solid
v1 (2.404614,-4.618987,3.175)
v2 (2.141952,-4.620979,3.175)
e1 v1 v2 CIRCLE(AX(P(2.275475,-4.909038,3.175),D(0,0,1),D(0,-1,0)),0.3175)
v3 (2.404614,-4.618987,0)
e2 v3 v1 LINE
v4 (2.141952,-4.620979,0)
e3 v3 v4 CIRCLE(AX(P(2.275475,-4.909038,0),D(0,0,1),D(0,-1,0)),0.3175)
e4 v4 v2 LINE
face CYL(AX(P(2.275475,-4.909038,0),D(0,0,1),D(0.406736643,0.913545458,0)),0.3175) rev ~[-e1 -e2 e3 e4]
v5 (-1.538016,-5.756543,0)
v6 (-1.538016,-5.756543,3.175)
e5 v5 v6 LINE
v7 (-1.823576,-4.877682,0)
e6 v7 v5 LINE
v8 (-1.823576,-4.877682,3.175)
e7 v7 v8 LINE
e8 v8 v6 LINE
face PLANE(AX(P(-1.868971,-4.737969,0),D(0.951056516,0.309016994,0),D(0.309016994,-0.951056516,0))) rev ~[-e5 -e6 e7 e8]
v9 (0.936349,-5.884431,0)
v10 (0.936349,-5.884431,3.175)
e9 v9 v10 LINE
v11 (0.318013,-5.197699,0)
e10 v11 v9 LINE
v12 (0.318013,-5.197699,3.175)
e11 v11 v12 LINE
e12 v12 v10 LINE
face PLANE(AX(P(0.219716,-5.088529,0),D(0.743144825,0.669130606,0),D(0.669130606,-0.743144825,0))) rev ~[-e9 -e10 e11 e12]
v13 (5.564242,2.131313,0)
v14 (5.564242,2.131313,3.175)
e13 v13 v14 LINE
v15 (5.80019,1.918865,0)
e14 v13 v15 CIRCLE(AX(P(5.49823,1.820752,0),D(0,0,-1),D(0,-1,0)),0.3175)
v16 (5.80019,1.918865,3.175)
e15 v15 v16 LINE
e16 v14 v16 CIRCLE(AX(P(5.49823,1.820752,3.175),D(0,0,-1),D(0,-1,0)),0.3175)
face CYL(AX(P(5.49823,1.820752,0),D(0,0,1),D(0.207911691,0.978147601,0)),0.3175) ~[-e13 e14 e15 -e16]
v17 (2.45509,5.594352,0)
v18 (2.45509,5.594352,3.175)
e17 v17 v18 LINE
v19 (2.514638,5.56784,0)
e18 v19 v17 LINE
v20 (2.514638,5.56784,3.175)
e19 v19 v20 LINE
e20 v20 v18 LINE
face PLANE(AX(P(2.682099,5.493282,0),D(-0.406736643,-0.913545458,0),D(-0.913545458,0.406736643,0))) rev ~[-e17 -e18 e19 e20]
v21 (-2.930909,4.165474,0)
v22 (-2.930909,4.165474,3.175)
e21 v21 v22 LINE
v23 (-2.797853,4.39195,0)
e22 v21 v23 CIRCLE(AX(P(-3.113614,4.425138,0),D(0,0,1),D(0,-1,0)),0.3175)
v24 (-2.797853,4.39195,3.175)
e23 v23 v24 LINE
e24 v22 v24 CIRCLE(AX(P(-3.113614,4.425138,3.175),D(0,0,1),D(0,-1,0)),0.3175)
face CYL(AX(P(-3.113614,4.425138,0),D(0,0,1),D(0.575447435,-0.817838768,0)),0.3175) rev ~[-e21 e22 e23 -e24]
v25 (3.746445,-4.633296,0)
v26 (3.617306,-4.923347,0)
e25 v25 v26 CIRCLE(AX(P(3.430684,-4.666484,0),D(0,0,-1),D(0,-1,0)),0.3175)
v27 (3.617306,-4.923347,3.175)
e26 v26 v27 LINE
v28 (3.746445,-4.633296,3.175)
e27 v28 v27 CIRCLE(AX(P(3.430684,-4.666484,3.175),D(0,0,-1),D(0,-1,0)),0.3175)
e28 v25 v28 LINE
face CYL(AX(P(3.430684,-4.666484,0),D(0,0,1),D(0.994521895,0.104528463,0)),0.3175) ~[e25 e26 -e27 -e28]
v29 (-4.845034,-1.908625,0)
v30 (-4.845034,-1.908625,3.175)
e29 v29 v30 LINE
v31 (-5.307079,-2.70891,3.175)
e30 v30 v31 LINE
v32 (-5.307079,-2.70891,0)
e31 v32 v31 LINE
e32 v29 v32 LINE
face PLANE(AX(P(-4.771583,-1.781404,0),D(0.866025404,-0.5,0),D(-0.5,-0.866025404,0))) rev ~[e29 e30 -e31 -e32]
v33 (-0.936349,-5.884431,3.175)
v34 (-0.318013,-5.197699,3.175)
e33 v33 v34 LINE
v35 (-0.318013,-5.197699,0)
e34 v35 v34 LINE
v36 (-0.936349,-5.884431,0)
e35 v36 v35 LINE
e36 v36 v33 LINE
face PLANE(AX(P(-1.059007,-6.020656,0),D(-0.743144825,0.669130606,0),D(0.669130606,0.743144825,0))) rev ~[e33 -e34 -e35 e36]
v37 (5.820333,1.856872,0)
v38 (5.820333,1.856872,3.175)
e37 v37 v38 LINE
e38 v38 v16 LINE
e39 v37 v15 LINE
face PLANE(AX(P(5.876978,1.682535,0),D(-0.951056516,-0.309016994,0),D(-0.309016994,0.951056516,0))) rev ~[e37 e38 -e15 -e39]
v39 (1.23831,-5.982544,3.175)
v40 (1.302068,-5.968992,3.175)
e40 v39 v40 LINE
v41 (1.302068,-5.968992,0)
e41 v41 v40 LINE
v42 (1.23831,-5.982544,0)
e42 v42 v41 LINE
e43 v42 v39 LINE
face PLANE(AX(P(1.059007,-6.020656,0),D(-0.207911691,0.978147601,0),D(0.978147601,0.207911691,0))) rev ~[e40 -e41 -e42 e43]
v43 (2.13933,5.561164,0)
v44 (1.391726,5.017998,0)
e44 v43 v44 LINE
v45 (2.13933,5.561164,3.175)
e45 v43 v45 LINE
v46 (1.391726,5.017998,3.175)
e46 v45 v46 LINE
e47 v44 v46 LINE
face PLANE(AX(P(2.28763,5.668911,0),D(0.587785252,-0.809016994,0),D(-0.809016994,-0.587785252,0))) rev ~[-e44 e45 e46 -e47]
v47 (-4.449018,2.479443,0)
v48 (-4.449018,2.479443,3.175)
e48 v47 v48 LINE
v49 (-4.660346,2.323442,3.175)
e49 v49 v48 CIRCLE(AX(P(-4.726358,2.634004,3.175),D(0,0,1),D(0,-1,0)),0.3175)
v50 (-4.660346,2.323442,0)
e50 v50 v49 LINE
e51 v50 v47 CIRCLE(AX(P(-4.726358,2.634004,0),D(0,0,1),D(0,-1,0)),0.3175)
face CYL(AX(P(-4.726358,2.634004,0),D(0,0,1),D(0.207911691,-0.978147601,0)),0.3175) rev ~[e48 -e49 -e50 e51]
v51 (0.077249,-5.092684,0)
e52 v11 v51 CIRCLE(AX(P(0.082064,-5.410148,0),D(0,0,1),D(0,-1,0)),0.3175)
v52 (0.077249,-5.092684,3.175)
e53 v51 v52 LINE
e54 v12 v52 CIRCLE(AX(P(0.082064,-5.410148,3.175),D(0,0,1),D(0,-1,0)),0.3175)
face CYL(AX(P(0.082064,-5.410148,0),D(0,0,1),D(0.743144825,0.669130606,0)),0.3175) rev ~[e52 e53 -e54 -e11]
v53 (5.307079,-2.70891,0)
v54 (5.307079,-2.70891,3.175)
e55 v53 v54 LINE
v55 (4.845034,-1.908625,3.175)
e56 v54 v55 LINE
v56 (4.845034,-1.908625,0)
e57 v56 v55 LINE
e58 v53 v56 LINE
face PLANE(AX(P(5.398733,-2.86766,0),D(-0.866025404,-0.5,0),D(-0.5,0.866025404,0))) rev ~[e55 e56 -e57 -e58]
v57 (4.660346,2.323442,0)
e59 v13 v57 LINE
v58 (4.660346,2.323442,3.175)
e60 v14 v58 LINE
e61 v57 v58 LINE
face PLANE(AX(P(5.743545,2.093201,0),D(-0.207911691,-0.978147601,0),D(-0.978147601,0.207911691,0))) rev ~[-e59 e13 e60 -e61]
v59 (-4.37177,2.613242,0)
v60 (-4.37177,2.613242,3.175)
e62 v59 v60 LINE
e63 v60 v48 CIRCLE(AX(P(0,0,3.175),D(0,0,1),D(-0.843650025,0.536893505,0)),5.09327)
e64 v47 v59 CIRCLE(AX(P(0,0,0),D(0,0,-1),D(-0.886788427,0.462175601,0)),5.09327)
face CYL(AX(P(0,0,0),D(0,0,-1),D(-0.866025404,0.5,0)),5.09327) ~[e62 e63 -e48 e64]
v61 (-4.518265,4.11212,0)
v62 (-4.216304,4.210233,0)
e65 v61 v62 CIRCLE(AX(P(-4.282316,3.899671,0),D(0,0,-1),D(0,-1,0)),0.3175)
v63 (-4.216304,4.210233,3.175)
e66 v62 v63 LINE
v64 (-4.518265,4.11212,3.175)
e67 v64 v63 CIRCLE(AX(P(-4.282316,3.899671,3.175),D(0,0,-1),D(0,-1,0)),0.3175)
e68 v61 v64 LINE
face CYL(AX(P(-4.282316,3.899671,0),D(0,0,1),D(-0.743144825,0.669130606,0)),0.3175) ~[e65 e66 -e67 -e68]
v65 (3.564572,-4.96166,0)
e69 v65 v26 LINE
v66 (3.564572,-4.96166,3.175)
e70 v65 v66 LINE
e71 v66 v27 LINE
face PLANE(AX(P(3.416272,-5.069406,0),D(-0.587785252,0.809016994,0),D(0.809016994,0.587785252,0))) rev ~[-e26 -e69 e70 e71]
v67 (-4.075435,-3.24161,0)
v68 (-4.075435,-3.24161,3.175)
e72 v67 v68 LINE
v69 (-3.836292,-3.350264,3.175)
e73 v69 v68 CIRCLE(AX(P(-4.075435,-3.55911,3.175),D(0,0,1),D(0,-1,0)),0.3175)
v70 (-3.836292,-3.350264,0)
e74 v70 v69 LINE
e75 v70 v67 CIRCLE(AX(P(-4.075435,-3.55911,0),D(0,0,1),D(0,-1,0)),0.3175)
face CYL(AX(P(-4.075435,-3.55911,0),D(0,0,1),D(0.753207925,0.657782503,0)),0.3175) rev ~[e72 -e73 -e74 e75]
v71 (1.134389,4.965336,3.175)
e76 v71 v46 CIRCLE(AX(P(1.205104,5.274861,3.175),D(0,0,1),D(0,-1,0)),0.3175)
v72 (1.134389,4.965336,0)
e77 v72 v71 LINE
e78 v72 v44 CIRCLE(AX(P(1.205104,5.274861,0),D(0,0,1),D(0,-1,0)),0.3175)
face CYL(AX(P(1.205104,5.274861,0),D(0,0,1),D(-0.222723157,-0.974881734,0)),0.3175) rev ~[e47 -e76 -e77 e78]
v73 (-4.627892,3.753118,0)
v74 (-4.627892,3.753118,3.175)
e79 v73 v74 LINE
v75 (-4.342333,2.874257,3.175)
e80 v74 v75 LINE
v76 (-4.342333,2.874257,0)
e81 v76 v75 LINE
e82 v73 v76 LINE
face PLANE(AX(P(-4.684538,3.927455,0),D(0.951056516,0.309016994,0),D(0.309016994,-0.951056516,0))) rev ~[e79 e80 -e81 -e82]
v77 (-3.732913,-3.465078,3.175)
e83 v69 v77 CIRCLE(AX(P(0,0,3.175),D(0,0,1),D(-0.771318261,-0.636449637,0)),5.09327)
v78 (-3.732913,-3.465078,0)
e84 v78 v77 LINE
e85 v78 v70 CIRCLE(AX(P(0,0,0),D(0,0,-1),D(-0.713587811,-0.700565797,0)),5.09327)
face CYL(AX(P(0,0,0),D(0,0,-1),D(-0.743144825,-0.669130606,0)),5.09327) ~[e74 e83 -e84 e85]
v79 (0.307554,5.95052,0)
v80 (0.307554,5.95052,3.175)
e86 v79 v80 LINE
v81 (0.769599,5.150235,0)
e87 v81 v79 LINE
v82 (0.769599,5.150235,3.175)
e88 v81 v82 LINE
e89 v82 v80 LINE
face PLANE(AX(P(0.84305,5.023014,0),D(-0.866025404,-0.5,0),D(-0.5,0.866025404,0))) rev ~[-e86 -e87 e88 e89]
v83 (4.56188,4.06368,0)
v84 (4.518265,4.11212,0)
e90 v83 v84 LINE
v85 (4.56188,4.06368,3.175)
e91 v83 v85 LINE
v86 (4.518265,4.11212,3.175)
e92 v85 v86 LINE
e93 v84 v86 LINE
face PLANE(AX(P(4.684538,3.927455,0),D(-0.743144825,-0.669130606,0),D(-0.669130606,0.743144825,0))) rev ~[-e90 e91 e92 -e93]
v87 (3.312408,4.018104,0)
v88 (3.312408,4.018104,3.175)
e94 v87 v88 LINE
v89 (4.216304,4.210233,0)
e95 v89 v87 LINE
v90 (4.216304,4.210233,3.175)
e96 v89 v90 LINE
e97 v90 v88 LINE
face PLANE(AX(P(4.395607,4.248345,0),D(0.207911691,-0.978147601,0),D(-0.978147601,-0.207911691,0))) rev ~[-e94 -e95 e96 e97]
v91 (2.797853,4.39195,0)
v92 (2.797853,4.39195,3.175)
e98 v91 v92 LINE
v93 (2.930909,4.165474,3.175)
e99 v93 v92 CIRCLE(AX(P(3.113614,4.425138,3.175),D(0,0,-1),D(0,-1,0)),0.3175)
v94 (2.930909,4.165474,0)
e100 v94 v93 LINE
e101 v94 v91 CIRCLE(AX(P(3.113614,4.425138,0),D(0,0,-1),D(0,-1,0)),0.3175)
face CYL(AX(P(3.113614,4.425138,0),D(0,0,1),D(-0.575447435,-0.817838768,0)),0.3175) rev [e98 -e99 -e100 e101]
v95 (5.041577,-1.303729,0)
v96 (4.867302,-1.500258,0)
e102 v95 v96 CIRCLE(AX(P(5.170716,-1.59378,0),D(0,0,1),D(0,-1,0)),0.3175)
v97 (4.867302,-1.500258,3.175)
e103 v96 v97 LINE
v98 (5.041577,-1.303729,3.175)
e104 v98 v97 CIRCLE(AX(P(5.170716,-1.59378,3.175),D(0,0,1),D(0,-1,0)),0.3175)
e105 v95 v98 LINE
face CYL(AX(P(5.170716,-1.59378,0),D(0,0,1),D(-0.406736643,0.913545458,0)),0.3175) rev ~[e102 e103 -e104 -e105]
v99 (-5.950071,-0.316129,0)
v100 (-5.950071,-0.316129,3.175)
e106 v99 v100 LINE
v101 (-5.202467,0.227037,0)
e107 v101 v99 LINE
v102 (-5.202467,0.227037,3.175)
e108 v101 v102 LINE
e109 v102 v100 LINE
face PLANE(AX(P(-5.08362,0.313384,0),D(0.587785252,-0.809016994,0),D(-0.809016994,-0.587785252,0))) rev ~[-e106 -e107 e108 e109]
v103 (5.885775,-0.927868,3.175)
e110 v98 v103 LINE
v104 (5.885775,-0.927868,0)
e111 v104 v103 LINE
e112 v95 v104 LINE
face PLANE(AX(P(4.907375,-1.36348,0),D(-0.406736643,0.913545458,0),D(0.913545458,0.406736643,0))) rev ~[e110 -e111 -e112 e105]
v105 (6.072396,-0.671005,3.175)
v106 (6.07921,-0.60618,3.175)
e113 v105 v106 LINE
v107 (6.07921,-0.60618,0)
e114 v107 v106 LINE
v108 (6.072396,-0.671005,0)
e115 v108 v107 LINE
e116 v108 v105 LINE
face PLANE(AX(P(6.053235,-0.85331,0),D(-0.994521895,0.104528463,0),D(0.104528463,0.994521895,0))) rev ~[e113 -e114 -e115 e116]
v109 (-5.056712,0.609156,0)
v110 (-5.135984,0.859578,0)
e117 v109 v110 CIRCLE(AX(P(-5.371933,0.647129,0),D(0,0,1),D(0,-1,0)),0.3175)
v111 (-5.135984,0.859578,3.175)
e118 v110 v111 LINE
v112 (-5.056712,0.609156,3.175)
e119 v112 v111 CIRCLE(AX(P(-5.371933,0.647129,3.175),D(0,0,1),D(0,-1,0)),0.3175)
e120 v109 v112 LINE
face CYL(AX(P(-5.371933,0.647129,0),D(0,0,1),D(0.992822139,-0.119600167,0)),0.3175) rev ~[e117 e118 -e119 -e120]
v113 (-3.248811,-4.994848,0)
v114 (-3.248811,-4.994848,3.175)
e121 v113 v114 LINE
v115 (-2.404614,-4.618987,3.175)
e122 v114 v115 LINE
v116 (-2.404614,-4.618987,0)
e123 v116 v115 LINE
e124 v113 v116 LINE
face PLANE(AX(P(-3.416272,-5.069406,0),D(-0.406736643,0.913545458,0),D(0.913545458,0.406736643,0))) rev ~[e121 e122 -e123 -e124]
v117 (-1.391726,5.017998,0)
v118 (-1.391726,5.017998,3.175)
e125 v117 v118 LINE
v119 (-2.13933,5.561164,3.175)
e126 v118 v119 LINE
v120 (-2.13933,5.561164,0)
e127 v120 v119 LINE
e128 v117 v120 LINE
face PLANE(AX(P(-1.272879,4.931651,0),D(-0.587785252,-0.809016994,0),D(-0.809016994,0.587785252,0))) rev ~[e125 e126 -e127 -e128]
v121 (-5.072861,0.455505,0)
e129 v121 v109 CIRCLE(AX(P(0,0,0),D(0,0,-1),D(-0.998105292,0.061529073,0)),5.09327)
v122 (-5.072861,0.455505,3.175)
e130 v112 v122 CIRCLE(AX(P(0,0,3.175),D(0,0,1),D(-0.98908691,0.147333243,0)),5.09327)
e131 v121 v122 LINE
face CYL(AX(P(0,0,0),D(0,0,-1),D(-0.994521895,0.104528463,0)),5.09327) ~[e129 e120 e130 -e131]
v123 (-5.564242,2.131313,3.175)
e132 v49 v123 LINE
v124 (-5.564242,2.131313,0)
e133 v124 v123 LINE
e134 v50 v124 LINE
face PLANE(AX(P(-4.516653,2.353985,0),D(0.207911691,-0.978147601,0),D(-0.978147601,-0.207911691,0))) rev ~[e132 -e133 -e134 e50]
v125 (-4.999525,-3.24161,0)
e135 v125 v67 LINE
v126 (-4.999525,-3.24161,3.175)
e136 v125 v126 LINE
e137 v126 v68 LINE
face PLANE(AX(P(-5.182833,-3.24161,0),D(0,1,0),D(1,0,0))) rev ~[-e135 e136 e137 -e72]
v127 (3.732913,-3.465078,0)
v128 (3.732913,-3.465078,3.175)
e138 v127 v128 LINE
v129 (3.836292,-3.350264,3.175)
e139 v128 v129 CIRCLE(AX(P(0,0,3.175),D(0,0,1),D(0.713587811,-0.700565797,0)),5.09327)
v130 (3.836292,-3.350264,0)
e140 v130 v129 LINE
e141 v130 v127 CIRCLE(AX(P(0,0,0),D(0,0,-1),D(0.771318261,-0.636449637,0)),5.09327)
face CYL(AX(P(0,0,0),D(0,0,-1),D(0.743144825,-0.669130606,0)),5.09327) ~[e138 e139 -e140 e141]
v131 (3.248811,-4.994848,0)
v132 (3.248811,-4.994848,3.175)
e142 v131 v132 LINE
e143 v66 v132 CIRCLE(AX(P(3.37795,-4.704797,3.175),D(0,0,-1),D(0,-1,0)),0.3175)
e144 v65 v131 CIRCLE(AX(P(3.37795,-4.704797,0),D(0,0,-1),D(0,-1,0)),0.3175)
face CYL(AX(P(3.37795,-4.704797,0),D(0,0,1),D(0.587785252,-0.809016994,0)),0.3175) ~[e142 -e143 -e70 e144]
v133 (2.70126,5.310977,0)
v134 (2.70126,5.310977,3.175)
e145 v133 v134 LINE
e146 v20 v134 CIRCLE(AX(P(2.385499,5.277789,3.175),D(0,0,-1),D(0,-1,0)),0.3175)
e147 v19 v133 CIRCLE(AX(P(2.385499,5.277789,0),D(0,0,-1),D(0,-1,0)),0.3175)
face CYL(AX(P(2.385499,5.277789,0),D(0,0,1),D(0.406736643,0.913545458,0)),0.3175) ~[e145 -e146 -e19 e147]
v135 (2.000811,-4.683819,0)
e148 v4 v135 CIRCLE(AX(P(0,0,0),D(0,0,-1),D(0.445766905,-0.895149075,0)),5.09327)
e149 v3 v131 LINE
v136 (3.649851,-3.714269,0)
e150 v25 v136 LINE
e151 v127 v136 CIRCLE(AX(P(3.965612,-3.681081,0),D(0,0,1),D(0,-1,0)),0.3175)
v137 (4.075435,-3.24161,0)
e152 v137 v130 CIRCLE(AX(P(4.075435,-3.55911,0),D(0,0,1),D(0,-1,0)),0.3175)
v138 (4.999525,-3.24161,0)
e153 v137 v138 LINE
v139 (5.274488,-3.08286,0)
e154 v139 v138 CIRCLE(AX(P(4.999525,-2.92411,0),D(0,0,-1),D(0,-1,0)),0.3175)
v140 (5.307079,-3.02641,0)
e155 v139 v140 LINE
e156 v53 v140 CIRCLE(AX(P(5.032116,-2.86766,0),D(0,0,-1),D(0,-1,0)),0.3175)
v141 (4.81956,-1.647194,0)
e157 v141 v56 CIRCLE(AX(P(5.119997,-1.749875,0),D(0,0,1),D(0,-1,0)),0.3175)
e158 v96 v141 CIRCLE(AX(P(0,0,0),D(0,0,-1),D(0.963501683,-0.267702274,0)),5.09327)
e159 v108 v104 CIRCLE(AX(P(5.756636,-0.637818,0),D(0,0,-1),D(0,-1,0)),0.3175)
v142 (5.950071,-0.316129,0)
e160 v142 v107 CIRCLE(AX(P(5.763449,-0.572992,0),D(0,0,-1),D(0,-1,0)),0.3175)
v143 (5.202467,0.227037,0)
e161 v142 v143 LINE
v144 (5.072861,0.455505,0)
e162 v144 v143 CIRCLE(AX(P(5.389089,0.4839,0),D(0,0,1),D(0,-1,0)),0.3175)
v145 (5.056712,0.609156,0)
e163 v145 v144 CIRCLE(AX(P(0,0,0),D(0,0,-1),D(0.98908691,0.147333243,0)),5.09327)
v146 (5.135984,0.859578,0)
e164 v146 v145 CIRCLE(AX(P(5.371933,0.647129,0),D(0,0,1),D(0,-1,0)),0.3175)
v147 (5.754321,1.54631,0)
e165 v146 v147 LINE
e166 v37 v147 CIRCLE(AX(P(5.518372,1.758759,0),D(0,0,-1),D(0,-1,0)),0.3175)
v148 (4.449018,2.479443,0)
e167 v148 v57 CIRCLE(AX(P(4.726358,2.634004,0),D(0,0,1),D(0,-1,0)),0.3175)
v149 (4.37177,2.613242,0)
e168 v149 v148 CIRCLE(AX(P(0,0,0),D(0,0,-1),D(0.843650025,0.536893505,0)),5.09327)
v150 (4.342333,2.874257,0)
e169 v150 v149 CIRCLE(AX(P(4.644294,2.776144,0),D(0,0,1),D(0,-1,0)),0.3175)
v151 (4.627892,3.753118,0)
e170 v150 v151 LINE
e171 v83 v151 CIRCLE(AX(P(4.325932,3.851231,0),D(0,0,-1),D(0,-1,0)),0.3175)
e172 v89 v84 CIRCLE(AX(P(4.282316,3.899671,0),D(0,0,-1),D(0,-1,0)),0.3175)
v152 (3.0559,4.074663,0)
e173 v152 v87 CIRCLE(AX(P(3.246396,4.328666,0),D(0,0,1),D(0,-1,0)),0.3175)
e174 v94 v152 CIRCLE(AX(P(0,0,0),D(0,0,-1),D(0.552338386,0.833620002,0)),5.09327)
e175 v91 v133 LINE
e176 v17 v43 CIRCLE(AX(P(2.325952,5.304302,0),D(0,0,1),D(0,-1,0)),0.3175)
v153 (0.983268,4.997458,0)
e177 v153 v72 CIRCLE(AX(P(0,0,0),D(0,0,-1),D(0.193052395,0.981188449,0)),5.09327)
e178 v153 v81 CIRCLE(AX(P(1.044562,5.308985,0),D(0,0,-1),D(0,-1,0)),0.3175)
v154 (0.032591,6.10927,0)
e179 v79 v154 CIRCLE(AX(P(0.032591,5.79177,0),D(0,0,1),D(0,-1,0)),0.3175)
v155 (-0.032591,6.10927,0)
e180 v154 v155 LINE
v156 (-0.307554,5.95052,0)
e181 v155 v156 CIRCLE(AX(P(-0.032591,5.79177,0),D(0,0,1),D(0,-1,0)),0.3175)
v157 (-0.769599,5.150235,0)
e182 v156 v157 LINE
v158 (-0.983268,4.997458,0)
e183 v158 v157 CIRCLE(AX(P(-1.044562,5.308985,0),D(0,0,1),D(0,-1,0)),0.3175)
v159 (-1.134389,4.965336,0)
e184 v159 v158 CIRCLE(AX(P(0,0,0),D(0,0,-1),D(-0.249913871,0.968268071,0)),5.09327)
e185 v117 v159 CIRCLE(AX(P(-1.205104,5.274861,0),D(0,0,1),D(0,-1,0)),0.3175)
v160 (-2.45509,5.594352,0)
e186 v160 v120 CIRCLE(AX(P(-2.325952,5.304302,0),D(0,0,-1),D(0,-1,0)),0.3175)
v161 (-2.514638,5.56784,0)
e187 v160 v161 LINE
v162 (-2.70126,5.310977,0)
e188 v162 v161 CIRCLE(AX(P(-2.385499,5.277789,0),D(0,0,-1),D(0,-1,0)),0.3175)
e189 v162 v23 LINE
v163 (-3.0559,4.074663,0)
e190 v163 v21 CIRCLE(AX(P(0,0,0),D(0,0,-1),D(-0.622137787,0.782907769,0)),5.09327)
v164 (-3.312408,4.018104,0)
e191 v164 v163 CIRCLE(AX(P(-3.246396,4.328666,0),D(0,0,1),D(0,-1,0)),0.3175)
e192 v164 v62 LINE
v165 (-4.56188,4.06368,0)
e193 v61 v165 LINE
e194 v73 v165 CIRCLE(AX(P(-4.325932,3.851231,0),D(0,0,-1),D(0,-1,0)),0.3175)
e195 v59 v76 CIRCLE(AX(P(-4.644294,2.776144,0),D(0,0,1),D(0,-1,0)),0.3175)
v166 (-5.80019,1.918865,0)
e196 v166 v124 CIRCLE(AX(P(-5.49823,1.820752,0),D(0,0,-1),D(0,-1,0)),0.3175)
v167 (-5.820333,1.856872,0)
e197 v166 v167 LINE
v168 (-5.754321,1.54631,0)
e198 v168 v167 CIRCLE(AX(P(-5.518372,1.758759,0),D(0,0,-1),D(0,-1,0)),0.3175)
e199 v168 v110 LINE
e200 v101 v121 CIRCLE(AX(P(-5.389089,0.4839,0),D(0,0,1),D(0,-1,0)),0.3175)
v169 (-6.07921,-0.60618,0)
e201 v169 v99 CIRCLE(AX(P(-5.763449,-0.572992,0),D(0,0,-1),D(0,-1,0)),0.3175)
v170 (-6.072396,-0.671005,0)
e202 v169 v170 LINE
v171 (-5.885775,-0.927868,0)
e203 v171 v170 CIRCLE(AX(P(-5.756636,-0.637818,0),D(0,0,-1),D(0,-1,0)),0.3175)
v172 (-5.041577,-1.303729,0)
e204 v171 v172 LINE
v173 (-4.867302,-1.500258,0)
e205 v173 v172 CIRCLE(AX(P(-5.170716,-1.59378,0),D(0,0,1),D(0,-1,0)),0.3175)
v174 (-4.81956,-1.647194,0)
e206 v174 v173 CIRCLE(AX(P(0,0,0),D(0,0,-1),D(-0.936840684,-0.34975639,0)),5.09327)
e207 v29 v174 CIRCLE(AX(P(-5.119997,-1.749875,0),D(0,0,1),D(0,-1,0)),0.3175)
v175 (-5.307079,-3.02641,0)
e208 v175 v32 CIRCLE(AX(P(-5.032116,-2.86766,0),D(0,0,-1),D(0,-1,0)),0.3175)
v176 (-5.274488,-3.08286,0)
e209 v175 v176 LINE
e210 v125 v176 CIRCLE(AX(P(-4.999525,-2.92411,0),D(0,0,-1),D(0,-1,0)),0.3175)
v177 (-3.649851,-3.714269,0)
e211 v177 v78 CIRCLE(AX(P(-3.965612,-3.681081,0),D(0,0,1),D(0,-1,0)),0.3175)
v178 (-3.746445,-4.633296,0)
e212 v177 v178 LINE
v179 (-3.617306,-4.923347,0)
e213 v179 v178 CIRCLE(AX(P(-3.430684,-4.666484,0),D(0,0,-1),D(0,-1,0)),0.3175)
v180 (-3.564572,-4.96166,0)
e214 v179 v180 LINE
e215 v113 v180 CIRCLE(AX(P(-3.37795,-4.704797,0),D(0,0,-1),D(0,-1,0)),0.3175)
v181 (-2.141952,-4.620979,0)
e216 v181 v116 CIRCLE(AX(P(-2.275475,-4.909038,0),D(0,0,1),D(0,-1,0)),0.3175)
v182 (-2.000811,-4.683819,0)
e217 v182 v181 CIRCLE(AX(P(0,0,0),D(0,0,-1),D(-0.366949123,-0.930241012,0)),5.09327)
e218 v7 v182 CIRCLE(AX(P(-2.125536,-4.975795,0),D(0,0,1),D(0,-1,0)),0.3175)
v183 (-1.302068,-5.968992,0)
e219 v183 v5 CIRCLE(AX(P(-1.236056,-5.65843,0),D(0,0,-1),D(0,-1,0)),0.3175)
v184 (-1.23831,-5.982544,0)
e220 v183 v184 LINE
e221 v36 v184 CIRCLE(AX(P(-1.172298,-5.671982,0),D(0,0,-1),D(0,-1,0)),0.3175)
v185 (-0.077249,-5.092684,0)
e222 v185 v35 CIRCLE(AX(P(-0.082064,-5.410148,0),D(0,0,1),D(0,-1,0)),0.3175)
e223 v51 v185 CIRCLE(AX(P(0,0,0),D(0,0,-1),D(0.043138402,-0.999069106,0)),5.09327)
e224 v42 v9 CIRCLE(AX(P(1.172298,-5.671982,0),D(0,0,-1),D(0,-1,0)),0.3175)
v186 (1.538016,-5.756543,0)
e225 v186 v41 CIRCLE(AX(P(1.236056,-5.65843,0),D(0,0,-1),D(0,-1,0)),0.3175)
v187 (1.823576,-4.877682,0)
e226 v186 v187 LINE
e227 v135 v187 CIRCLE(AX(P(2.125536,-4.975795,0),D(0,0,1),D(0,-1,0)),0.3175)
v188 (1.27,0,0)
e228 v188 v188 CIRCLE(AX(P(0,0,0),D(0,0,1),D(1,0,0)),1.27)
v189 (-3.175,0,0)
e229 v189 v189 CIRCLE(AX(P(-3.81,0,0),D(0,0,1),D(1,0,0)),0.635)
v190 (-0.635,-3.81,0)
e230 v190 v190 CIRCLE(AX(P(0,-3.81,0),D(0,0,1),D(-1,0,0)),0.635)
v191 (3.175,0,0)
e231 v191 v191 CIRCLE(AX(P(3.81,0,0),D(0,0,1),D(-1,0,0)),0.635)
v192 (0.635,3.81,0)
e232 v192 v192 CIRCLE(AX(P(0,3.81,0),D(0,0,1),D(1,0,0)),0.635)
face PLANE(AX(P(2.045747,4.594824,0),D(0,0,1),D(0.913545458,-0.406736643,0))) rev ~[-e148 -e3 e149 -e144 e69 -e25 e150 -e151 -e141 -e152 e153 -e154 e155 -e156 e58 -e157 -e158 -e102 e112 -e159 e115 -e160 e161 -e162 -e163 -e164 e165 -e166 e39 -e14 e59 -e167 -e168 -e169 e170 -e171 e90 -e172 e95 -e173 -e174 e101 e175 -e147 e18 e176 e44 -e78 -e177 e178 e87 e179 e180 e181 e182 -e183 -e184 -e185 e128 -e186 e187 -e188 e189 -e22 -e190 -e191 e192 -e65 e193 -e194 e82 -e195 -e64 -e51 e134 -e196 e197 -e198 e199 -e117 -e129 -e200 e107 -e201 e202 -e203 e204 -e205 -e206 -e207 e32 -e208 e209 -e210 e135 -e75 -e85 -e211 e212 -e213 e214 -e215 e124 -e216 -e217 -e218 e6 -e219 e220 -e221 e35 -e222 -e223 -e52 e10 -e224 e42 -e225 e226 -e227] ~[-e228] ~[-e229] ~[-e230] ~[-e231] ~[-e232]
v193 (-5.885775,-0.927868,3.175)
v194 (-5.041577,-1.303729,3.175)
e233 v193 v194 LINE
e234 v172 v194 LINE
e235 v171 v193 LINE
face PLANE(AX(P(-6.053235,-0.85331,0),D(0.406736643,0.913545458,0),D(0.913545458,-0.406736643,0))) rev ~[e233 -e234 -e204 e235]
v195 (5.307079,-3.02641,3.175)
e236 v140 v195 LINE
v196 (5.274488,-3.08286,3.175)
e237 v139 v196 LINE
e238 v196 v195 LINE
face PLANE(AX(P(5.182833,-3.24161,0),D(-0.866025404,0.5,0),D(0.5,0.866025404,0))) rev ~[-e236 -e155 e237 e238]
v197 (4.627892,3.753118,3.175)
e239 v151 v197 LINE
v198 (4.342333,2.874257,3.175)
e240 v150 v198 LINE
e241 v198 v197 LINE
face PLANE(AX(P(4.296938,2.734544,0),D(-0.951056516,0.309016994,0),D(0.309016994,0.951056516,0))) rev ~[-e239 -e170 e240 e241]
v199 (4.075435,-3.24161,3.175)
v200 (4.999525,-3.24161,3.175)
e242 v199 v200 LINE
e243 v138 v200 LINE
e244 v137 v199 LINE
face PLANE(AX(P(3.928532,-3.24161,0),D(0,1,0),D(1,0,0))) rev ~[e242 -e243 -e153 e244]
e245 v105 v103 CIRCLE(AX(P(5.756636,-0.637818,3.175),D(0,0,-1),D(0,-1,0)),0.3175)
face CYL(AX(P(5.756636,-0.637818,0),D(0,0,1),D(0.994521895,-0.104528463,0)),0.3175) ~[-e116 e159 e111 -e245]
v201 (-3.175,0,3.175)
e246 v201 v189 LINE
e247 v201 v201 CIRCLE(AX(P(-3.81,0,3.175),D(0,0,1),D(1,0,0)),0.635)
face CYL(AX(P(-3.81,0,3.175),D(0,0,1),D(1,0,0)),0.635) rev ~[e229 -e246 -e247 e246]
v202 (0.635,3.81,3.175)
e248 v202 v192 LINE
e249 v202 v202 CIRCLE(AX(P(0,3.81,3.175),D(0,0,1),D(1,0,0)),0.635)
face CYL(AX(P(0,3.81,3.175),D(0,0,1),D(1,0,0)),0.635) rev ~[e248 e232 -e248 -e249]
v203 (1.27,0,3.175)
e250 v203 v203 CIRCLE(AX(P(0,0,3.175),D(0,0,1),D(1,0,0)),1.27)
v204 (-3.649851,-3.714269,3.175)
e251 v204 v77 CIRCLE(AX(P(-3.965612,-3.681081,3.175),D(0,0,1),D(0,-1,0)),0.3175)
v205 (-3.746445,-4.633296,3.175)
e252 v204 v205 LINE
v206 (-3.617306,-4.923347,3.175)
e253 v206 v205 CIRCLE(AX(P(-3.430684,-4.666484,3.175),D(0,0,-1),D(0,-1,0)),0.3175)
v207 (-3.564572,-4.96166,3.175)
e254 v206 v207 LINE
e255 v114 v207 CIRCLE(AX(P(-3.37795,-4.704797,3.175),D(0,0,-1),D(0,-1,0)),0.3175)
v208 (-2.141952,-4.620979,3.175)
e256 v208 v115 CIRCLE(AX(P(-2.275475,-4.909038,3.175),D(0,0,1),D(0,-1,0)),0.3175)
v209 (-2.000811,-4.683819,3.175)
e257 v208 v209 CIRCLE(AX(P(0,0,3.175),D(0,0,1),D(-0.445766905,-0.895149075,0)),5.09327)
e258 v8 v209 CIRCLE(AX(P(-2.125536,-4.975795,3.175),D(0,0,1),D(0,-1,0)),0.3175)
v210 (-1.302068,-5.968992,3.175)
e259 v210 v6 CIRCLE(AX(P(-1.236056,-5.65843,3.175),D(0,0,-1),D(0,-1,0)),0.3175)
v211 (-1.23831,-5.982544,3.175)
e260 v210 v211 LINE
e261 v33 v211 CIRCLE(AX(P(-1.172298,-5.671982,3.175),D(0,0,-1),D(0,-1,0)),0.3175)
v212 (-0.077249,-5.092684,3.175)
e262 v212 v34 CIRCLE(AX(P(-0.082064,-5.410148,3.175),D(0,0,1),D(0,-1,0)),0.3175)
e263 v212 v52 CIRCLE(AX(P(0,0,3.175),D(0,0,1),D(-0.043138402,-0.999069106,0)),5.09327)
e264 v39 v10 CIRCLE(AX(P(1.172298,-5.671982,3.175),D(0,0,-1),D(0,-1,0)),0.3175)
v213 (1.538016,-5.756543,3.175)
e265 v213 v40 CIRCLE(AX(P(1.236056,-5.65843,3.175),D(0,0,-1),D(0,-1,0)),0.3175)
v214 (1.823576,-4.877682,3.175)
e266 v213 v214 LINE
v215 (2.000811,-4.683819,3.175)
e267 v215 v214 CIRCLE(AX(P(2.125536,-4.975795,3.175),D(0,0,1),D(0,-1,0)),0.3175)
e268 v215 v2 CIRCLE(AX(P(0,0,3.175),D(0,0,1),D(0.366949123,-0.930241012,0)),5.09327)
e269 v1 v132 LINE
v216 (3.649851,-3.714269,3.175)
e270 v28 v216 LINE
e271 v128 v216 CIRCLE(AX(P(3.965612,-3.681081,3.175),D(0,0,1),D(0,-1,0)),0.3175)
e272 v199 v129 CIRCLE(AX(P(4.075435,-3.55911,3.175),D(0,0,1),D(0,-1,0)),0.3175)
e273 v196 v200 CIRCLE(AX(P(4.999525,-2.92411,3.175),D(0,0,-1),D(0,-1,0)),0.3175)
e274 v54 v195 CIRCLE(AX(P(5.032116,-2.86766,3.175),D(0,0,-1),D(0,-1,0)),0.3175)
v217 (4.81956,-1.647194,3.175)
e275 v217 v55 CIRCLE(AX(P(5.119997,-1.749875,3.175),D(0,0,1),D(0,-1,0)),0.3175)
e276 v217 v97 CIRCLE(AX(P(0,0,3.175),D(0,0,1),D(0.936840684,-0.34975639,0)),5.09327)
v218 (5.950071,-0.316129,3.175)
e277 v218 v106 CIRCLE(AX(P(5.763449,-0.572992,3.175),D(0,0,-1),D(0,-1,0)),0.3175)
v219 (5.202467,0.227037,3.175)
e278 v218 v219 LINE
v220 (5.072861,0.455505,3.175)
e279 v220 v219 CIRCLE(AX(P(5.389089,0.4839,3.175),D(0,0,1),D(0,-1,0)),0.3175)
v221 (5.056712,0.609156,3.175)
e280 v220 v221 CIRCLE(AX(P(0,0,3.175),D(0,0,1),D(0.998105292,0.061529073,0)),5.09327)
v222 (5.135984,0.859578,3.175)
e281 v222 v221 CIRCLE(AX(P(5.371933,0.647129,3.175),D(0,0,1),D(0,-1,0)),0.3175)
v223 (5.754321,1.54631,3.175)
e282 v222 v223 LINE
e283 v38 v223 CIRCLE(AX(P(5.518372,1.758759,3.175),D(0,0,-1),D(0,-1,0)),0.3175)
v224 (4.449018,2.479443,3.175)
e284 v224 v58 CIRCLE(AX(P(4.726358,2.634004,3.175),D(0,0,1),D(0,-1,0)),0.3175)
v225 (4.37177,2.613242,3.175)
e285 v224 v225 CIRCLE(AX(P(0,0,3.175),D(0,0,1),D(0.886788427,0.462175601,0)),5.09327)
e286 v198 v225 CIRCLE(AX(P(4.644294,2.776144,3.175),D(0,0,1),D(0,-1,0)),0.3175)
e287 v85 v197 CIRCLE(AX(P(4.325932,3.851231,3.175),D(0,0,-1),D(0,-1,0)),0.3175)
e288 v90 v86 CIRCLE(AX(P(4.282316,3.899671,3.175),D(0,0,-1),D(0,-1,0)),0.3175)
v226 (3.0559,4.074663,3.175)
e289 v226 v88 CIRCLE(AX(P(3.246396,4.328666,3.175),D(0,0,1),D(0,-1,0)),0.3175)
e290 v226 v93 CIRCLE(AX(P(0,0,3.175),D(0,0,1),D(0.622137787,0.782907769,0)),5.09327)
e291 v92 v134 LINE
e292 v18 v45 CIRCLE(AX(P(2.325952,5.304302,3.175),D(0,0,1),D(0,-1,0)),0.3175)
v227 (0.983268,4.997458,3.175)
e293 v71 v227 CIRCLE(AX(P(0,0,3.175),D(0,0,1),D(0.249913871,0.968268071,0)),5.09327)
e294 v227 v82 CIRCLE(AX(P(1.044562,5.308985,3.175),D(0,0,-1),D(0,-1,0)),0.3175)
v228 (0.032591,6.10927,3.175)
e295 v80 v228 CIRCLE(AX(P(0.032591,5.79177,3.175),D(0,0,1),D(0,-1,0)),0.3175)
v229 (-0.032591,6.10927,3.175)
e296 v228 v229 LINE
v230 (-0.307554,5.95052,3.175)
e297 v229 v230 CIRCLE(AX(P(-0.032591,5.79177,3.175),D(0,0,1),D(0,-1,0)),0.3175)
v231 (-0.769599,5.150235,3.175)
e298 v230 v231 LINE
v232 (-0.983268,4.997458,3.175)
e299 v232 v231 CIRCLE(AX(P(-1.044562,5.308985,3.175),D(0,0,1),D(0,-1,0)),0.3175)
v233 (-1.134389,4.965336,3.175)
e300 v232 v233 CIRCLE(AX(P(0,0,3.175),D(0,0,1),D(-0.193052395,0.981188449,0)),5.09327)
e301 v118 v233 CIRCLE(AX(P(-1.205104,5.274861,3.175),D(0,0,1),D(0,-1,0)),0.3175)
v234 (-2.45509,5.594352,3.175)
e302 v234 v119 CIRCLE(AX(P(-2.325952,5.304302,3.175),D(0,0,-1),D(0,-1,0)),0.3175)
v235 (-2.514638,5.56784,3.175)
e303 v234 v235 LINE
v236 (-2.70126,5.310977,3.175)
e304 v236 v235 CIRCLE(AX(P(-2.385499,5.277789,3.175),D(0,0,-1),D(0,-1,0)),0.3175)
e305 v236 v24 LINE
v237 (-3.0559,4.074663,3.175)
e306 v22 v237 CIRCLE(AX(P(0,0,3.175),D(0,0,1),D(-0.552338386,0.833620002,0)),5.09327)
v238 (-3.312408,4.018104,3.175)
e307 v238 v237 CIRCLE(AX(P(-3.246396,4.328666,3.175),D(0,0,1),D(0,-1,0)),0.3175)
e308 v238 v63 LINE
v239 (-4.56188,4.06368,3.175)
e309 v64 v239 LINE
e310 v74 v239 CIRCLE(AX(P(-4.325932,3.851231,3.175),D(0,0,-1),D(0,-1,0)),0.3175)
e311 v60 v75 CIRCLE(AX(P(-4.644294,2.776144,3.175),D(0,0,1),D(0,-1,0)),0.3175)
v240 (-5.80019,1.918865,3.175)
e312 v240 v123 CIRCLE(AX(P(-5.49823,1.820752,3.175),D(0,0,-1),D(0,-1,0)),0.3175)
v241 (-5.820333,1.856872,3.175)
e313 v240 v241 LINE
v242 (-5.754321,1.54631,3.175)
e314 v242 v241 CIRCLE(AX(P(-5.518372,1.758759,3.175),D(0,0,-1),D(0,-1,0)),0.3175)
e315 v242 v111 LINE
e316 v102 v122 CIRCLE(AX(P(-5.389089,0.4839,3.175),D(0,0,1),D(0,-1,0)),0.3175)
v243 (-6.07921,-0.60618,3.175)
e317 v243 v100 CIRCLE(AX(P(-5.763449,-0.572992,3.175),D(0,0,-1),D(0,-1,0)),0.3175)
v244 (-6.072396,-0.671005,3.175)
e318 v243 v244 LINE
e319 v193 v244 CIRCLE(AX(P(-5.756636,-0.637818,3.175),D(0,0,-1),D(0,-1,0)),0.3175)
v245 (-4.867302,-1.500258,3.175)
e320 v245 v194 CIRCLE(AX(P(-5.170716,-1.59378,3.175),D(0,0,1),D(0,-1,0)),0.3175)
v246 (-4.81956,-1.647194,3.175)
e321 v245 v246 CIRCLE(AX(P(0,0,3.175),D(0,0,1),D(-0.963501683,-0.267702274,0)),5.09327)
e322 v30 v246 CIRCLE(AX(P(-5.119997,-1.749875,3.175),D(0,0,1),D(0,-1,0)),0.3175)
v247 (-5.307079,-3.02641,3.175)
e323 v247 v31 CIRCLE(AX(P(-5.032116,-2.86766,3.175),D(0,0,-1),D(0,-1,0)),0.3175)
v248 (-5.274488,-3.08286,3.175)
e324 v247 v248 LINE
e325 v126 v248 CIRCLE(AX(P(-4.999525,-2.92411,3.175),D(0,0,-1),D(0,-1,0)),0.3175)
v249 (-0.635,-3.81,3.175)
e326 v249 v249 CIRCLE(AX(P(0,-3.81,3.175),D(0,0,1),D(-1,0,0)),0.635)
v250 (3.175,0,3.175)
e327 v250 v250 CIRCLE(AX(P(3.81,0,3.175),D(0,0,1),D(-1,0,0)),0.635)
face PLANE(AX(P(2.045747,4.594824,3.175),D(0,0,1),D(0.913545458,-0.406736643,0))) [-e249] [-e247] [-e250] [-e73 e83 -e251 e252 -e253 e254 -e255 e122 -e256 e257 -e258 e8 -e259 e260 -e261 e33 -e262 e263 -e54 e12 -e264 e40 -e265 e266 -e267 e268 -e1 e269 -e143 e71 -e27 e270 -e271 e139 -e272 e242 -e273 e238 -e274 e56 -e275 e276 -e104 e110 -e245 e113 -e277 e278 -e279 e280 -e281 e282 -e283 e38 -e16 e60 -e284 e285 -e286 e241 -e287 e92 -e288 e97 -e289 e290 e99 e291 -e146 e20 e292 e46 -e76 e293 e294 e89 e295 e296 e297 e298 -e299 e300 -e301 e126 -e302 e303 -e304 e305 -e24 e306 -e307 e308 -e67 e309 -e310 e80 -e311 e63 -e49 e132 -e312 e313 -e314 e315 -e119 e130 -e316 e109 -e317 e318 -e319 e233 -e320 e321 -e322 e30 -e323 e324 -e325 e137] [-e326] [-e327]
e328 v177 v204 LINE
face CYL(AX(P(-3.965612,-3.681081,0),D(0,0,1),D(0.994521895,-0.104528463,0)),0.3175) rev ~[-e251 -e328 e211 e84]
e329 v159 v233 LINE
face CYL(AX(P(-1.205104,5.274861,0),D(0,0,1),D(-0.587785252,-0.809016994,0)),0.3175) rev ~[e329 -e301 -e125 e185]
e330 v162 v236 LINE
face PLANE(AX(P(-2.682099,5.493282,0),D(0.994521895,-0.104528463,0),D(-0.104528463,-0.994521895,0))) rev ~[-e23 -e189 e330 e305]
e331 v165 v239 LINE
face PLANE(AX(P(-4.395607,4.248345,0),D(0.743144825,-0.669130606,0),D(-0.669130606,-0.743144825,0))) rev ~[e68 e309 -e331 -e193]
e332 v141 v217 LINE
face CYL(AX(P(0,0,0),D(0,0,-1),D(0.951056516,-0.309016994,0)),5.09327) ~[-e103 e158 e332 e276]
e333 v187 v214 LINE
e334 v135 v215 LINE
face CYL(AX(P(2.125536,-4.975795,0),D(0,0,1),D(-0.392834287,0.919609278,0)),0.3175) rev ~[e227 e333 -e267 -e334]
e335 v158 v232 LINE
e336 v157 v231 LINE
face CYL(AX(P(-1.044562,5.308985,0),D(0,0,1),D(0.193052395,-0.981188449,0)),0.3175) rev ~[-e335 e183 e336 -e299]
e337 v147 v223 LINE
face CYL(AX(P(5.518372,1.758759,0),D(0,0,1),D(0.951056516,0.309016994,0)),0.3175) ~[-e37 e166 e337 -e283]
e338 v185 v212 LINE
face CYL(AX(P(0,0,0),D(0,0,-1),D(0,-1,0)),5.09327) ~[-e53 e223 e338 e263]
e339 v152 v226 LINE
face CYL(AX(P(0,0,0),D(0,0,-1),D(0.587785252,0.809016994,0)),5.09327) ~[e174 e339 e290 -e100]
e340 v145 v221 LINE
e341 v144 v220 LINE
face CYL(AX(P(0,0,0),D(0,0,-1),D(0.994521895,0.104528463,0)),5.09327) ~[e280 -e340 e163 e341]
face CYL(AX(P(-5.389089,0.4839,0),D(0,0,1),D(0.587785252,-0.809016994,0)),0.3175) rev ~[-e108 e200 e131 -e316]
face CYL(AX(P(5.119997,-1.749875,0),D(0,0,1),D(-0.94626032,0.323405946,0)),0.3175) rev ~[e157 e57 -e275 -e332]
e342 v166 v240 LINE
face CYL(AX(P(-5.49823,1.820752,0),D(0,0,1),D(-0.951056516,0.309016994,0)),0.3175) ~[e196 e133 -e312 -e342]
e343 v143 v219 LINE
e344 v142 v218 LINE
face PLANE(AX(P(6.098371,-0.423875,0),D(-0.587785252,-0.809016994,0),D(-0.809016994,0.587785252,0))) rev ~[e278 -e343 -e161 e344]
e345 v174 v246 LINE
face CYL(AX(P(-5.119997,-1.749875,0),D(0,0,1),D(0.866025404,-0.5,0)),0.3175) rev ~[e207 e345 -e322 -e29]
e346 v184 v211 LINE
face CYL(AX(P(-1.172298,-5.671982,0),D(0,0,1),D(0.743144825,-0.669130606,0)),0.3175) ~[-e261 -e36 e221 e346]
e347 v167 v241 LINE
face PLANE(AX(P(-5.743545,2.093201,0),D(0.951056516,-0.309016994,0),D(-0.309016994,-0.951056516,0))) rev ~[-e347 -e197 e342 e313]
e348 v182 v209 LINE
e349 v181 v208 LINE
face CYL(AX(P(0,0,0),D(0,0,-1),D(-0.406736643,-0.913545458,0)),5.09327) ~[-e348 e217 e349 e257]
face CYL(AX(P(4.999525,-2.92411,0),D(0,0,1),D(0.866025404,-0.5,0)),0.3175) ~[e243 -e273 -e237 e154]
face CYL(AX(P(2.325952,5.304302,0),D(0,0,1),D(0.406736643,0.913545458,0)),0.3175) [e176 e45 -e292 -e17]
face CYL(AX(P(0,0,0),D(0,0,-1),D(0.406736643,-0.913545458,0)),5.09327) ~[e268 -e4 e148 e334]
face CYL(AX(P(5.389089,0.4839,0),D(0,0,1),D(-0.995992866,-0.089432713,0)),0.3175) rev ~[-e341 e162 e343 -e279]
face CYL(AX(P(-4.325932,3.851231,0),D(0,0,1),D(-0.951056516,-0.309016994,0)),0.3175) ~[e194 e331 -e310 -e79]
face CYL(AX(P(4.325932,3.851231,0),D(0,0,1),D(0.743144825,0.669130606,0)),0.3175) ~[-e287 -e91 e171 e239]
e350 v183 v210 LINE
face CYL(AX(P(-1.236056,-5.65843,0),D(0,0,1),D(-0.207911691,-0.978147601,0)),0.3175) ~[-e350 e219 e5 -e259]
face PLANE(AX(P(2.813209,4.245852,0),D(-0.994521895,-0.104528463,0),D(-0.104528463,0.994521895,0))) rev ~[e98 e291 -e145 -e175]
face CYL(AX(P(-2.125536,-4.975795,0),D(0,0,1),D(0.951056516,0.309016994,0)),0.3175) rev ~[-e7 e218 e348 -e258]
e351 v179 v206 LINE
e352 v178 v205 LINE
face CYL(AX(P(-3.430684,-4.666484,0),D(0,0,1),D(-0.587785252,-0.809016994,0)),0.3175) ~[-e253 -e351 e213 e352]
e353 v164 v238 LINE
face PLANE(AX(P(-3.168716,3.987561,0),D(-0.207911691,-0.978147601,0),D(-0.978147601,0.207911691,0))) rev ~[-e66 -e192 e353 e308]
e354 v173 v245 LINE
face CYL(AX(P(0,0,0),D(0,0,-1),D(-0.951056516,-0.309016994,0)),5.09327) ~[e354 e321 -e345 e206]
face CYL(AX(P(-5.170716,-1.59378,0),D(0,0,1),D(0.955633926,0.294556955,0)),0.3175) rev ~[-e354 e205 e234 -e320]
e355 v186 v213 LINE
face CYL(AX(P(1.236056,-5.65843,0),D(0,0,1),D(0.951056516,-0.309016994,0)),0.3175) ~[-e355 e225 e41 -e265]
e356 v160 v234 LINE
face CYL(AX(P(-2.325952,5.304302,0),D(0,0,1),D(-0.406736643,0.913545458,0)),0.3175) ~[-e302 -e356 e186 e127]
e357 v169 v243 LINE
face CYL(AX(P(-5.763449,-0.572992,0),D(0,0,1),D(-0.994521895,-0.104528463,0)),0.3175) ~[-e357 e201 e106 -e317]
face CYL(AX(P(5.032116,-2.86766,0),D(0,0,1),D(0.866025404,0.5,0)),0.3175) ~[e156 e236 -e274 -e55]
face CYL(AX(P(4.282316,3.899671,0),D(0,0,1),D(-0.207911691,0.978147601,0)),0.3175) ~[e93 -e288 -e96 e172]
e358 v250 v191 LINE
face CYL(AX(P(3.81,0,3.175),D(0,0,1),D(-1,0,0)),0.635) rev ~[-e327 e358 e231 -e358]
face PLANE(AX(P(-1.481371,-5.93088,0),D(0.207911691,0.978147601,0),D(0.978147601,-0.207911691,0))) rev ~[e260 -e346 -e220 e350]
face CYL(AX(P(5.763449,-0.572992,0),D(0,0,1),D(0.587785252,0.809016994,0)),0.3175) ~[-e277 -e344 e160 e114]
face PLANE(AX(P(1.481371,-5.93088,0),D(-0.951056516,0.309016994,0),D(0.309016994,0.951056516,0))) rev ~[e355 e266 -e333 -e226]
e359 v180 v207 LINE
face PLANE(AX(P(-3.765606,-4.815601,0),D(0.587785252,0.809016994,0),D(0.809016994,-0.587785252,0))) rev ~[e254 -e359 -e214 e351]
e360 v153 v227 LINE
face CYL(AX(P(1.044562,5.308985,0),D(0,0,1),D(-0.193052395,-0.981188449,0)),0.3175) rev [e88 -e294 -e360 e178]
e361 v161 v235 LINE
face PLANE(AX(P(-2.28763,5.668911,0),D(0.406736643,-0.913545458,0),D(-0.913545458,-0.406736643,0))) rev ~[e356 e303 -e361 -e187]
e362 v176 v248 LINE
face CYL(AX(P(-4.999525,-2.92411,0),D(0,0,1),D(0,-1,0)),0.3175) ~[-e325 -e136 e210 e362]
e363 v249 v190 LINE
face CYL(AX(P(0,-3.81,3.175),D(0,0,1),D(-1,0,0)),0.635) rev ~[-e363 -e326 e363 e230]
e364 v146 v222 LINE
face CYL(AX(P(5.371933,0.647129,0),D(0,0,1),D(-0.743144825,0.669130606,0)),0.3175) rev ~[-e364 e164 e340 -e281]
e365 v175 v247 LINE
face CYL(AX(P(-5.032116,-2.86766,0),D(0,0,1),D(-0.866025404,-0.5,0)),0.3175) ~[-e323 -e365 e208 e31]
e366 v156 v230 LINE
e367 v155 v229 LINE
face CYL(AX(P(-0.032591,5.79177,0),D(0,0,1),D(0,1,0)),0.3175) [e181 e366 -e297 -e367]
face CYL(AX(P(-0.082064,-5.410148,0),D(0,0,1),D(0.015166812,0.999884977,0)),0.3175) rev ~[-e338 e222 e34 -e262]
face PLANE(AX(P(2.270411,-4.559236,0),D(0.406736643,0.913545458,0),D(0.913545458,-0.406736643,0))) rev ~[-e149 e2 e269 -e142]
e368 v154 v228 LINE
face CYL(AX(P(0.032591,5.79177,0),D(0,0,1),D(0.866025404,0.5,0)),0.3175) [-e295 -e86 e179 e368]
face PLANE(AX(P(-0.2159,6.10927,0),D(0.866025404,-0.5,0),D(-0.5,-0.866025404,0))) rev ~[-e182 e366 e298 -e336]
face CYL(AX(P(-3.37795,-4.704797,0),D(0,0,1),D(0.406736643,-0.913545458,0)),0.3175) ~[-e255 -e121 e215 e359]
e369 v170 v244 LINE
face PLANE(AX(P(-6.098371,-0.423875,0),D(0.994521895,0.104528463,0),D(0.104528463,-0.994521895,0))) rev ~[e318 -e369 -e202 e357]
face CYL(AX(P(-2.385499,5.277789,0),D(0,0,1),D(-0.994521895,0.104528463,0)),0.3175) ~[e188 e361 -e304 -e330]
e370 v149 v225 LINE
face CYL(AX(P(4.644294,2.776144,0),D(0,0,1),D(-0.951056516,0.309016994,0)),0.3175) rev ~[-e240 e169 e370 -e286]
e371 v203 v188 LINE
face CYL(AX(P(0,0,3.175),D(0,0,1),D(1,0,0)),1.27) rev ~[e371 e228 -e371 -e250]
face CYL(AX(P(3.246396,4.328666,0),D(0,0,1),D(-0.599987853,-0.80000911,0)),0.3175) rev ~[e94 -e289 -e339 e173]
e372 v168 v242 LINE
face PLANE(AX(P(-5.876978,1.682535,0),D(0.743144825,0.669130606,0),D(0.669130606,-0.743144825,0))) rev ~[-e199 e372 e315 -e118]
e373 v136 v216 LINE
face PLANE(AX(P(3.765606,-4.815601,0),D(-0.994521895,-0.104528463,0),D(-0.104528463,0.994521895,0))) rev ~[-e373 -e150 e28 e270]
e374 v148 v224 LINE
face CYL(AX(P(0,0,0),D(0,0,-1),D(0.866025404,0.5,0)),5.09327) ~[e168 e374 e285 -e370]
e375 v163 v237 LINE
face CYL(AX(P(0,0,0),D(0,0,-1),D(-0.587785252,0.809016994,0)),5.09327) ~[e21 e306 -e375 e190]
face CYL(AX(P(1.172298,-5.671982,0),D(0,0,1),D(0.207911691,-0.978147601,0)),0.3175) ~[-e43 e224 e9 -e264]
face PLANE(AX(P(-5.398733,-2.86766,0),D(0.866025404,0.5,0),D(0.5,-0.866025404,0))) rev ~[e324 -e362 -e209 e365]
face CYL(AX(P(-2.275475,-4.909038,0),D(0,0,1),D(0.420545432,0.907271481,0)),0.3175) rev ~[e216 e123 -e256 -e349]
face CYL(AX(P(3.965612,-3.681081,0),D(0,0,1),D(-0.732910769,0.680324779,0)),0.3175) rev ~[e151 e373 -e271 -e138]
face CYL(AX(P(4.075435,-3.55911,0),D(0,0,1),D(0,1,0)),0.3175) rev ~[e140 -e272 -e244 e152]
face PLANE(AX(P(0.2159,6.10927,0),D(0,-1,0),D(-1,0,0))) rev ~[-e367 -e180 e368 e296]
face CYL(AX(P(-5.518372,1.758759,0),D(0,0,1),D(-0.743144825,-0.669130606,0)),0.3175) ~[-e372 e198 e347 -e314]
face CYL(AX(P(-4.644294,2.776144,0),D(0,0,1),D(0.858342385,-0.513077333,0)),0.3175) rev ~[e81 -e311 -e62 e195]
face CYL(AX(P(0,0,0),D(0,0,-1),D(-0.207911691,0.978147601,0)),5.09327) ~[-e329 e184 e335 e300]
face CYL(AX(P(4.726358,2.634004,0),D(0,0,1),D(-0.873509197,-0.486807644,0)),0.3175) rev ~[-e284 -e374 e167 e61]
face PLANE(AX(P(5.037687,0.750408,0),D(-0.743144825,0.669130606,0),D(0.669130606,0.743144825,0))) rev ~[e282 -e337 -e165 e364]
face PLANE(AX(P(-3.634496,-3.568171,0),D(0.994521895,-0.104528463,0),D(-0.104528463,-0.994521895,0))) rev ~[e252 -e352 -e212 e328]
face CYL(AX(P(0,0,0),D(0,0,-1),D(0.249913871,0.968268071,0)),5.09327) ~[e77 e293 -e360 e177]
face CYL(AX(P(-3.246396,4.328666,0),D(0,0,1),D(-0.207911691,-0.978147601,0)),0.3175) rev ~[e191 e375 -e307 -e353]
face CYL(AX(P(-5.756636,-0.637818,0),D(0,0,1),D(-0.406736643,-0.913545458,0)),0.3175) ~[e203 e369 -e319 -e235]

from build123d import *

# Parameters (mm, degrees)
BOSS_EXTRUDE1_DEPTH      = 3.175
SKETCH6_R                = 5.093270322110958
BOSS_EXTRUDE2_DEPTH      = 3.175
FILLET1_R                = 0.3175
CIRPATTERN3_COUNT        = 15
FILLET1_OF_CIRPATTERN3_R = 0.3175
SKETCH7_R                = 1.27
SKETCH7_R_2              = 0.635
SKETCH7_R_3              = 0.6350000000000001
CUT_EXTRUDE1_DEPTH       = 3.175


with BuildPart() as part:
    # Sketch1 → Boss-Extrude1 (new body)
    with BuildSketch(Plane.XY):
        with BuildLine():
            Line((0.21589999999999998, 6.109270322110954), (-0.21589999999999998, 6.109270322110954))
            Line((-0.21589999999999998, 6.109270322110954), (-0.8430504444620047, 5.023013888313339))
            ThreePointArc((-0.8430504444620047, 5.023013888313339), (-0.9512218419347573, 5.003656621064491), (-1.0589504444620048, 4.981970145461529))
            ThreePointArc((-1.0589504444620048, 4.981970145461529), (-1.7e-16, 4.028486882556943), (1.0589504444620048, 4.981970145461529))
            ThreePointArc((1.0589504444620048, 4.981970145461529), (0.9512218419347568, 5.003656621064491), (0.8430504444620047, 5.023013888313339))
            Line((0.8430504444620047, 5.023013888313339), (0.21589999999999998, 6.109270322110954))
        make_face()
    boss_extrude1 = extrude(amount=BOSS_EXTRUDE1_DEPTH)

    # Sketch6 → Boss-Extrude2 (add)
    with BuildSketch(Plane.XY):
        Circle(SKETCH6_R)
    extrude(amount=BOSS_EXTRUDE2_DEPTH)

    # Fillet1
    fillet1_edges = [part.edges().sort_by_distance(p)[0] for p in [
        (-0.8430504444620048, 5.02301388831334, 1.5875),
        (-0.21589999999999998, 6.109270322110954, 1.5875),
        (0.21589999999999998, 6.109270322110954, 1.5875),
        (0.8430504444620048, 5.02301388831334, 1.5875),
    ]]
    fillet(fillet1_edges, radius=FILLET1_R)

    # CirPattern3: Boss-Extrude1 ×15 about axis
    cirpattern3_axis = Axis((0, -7e-17, 0), (0, 0, 1))
    for i in range(1, CIRPATTERN3_COUNT):
        add(boss_extrude1.rotate(cirpattern3_axis, i * 360 / CIRPATTERN3_COUNT))

    # Fillet1 of CirPattern3
    fillet1_of_cirpattern3_edges = [part.edges().sort_by_distance(p)[0] for p in [
        (-2.8132087111575306, 4.245852013620313, 1.5875),
        (-2.6820985667630595, 5.493281711035146, 1.5875),
        (-2.2876296381529846, 5.668910593515277, 1.5875),
        (-1.2728789029538499, 4.931651029068387, 1.5875),
        (-4.2969376344951105, 2.734543753417715, 1.5875),
        (-4.684537925232247, 3.92745478722371, 1.5875),
        (-4.3956073294064915, 4.248344722864849, 1.5875),
        (-3.168715924307178, 3.9875609042544276, 1.5875),
        (-5.037687004375571, 0.7504080356990912, 1.5875),
        (-5.876978118737766, 1.6825352508946705, 1.5875),
        (-5.743544580566663, 2.093201454630918, 1.5875),
        (-4.516653175467346, 2.353985273241322, 1.5875),
        (-4.907374525249817, -1.3634800486348928, 1.5875),
        (-6.053235404843441, -0.8533099156669512, 1.5875),
        (-6.098370795282413, -0.42387536124693076, 1.5875),
        (-5.083620060083269, 0.3133842031999436, 1.5875),
        (-3.928532408610401, -3.2416100457325268, 1.5875),
        (-5.182833297534428, -3.241610045732536, 1.5875),
        (-5.398733297534427, -2.8676602763784156, 1.5875),
        (-4.771582853072406, -1.7814038425808105, 1.5875),
        (-2.270411348925739, -4.559236216820256, 1.5875),
        (-3.4162722285193556, -5.069406349788216, 1.5875),
        (-3.7656057666904577, -4.815600677848326, 1.5875),
        (-3.634495622295968, -3.5681709804334942, 1.5875),
        (-0.21971554097223567, -5.088529026659036, 1.5875),
        (-1.059006655334417, -6.0206562418546286, 1.5875),
        (-1.4813707893312742, -5.930879973759519, 1.5875),
        (-1.8689710800683925, -4.737968939953519, 1.5875),
        (1.8689710800683934, -4.737968939953517, 1.5875),
        (1.4813707893312753, -5.930879973759519, 1.5875),
        (1.0590066553344182, -6.0206562418546286, 1.5875),
        (0.21971554097223658, -5.088529026659036, 1.5875),
        (3.6344956222959675, -3.5681709804334965, 1.5874999999999997),
        (3.7656057666904563, -4.815600677848327, 1.5874999999999997),
        (3.4162722285193543, -5.069406349788217, 1.5874999999999997),
        (2.270411348925738, -4.559236216820258, 1.5874999999999997),
        (4.771582853072404, -1.781403842580814, 1.5875),
        (5.398733297534425, -2.8676602763784196, 1.5875),
        (5.182833297534425, -3.24161004573254, 1.5875),
        (3.928532408610399, -3.2416100457325303, 1.5875),
        (5.083620060083269, 0.3133842031999447, 1.5875),
        (6.098370795282414, -0.42387536124692954, 1.5875),
        (6.053235404843442, -0.85330991566695, 1.5875),
        (4.907374525249819, -1.363480048634892, 1.5875),
        (4.516653175467346, 2.3539852732413205, 1.5875),
        (5.743544580566664, 2.0932014546309166, 1.5875),
        (5.8769781187377665, 1.6825352508946692, 1.5875),
        (5.037687004375571, 0.7504080356990901, 1.5875),
        (3.1687159243071803, 3.9875609042544253, 1.5875),
        (4.395607329406493, 4.2483447228648465, 1.5875),
        (4.684537925232249, 3.9274547872237076, 1.5875),
        (4.296937634495112, 2.7345437534177126, 1.5875),
        (1.2728789029538499, 4.931651029068388, 1.5875),
        (2.2876296381529846, 5.668910593515278, 1.5875),
        (2.6820985667630595, 5.493281711035147, 1.5875),
        (2.8132087111575306, 4.245852013620314, 1.5875),
    ]]
    fillet(fillet1_of_cirpattern3_edges, radius=FILLET1_OF_CIRPATTERN3_R)

    # Sketch7 → Cut-Extrude1 (cut)
    with BuildSketch(Plane.XY.offset(3.175)):
        Circle(SKETCH7_R)
        with Locations((0, 3.8099999999999996)):
            Circle(SKETCH7_R_2)
        with Locations((-3.8099999999999996, 0)):
            Circle(SKETCH7_R_3)
        with Locations(Location((3.8099999999999996, 0, 0), (0, 0, 180))):
            Circle(SKETCH7_R_3)
        with Locations(Location((-1.73e-15, -3.8099999999999996, 0), (0, 0, 180))):
            Circle(SKETCH7_R_2)
    extrude(amount=-CUT_EXTRUDE1_DEPTH, mode=Mode.SUBTRACT)


solid = part.part
